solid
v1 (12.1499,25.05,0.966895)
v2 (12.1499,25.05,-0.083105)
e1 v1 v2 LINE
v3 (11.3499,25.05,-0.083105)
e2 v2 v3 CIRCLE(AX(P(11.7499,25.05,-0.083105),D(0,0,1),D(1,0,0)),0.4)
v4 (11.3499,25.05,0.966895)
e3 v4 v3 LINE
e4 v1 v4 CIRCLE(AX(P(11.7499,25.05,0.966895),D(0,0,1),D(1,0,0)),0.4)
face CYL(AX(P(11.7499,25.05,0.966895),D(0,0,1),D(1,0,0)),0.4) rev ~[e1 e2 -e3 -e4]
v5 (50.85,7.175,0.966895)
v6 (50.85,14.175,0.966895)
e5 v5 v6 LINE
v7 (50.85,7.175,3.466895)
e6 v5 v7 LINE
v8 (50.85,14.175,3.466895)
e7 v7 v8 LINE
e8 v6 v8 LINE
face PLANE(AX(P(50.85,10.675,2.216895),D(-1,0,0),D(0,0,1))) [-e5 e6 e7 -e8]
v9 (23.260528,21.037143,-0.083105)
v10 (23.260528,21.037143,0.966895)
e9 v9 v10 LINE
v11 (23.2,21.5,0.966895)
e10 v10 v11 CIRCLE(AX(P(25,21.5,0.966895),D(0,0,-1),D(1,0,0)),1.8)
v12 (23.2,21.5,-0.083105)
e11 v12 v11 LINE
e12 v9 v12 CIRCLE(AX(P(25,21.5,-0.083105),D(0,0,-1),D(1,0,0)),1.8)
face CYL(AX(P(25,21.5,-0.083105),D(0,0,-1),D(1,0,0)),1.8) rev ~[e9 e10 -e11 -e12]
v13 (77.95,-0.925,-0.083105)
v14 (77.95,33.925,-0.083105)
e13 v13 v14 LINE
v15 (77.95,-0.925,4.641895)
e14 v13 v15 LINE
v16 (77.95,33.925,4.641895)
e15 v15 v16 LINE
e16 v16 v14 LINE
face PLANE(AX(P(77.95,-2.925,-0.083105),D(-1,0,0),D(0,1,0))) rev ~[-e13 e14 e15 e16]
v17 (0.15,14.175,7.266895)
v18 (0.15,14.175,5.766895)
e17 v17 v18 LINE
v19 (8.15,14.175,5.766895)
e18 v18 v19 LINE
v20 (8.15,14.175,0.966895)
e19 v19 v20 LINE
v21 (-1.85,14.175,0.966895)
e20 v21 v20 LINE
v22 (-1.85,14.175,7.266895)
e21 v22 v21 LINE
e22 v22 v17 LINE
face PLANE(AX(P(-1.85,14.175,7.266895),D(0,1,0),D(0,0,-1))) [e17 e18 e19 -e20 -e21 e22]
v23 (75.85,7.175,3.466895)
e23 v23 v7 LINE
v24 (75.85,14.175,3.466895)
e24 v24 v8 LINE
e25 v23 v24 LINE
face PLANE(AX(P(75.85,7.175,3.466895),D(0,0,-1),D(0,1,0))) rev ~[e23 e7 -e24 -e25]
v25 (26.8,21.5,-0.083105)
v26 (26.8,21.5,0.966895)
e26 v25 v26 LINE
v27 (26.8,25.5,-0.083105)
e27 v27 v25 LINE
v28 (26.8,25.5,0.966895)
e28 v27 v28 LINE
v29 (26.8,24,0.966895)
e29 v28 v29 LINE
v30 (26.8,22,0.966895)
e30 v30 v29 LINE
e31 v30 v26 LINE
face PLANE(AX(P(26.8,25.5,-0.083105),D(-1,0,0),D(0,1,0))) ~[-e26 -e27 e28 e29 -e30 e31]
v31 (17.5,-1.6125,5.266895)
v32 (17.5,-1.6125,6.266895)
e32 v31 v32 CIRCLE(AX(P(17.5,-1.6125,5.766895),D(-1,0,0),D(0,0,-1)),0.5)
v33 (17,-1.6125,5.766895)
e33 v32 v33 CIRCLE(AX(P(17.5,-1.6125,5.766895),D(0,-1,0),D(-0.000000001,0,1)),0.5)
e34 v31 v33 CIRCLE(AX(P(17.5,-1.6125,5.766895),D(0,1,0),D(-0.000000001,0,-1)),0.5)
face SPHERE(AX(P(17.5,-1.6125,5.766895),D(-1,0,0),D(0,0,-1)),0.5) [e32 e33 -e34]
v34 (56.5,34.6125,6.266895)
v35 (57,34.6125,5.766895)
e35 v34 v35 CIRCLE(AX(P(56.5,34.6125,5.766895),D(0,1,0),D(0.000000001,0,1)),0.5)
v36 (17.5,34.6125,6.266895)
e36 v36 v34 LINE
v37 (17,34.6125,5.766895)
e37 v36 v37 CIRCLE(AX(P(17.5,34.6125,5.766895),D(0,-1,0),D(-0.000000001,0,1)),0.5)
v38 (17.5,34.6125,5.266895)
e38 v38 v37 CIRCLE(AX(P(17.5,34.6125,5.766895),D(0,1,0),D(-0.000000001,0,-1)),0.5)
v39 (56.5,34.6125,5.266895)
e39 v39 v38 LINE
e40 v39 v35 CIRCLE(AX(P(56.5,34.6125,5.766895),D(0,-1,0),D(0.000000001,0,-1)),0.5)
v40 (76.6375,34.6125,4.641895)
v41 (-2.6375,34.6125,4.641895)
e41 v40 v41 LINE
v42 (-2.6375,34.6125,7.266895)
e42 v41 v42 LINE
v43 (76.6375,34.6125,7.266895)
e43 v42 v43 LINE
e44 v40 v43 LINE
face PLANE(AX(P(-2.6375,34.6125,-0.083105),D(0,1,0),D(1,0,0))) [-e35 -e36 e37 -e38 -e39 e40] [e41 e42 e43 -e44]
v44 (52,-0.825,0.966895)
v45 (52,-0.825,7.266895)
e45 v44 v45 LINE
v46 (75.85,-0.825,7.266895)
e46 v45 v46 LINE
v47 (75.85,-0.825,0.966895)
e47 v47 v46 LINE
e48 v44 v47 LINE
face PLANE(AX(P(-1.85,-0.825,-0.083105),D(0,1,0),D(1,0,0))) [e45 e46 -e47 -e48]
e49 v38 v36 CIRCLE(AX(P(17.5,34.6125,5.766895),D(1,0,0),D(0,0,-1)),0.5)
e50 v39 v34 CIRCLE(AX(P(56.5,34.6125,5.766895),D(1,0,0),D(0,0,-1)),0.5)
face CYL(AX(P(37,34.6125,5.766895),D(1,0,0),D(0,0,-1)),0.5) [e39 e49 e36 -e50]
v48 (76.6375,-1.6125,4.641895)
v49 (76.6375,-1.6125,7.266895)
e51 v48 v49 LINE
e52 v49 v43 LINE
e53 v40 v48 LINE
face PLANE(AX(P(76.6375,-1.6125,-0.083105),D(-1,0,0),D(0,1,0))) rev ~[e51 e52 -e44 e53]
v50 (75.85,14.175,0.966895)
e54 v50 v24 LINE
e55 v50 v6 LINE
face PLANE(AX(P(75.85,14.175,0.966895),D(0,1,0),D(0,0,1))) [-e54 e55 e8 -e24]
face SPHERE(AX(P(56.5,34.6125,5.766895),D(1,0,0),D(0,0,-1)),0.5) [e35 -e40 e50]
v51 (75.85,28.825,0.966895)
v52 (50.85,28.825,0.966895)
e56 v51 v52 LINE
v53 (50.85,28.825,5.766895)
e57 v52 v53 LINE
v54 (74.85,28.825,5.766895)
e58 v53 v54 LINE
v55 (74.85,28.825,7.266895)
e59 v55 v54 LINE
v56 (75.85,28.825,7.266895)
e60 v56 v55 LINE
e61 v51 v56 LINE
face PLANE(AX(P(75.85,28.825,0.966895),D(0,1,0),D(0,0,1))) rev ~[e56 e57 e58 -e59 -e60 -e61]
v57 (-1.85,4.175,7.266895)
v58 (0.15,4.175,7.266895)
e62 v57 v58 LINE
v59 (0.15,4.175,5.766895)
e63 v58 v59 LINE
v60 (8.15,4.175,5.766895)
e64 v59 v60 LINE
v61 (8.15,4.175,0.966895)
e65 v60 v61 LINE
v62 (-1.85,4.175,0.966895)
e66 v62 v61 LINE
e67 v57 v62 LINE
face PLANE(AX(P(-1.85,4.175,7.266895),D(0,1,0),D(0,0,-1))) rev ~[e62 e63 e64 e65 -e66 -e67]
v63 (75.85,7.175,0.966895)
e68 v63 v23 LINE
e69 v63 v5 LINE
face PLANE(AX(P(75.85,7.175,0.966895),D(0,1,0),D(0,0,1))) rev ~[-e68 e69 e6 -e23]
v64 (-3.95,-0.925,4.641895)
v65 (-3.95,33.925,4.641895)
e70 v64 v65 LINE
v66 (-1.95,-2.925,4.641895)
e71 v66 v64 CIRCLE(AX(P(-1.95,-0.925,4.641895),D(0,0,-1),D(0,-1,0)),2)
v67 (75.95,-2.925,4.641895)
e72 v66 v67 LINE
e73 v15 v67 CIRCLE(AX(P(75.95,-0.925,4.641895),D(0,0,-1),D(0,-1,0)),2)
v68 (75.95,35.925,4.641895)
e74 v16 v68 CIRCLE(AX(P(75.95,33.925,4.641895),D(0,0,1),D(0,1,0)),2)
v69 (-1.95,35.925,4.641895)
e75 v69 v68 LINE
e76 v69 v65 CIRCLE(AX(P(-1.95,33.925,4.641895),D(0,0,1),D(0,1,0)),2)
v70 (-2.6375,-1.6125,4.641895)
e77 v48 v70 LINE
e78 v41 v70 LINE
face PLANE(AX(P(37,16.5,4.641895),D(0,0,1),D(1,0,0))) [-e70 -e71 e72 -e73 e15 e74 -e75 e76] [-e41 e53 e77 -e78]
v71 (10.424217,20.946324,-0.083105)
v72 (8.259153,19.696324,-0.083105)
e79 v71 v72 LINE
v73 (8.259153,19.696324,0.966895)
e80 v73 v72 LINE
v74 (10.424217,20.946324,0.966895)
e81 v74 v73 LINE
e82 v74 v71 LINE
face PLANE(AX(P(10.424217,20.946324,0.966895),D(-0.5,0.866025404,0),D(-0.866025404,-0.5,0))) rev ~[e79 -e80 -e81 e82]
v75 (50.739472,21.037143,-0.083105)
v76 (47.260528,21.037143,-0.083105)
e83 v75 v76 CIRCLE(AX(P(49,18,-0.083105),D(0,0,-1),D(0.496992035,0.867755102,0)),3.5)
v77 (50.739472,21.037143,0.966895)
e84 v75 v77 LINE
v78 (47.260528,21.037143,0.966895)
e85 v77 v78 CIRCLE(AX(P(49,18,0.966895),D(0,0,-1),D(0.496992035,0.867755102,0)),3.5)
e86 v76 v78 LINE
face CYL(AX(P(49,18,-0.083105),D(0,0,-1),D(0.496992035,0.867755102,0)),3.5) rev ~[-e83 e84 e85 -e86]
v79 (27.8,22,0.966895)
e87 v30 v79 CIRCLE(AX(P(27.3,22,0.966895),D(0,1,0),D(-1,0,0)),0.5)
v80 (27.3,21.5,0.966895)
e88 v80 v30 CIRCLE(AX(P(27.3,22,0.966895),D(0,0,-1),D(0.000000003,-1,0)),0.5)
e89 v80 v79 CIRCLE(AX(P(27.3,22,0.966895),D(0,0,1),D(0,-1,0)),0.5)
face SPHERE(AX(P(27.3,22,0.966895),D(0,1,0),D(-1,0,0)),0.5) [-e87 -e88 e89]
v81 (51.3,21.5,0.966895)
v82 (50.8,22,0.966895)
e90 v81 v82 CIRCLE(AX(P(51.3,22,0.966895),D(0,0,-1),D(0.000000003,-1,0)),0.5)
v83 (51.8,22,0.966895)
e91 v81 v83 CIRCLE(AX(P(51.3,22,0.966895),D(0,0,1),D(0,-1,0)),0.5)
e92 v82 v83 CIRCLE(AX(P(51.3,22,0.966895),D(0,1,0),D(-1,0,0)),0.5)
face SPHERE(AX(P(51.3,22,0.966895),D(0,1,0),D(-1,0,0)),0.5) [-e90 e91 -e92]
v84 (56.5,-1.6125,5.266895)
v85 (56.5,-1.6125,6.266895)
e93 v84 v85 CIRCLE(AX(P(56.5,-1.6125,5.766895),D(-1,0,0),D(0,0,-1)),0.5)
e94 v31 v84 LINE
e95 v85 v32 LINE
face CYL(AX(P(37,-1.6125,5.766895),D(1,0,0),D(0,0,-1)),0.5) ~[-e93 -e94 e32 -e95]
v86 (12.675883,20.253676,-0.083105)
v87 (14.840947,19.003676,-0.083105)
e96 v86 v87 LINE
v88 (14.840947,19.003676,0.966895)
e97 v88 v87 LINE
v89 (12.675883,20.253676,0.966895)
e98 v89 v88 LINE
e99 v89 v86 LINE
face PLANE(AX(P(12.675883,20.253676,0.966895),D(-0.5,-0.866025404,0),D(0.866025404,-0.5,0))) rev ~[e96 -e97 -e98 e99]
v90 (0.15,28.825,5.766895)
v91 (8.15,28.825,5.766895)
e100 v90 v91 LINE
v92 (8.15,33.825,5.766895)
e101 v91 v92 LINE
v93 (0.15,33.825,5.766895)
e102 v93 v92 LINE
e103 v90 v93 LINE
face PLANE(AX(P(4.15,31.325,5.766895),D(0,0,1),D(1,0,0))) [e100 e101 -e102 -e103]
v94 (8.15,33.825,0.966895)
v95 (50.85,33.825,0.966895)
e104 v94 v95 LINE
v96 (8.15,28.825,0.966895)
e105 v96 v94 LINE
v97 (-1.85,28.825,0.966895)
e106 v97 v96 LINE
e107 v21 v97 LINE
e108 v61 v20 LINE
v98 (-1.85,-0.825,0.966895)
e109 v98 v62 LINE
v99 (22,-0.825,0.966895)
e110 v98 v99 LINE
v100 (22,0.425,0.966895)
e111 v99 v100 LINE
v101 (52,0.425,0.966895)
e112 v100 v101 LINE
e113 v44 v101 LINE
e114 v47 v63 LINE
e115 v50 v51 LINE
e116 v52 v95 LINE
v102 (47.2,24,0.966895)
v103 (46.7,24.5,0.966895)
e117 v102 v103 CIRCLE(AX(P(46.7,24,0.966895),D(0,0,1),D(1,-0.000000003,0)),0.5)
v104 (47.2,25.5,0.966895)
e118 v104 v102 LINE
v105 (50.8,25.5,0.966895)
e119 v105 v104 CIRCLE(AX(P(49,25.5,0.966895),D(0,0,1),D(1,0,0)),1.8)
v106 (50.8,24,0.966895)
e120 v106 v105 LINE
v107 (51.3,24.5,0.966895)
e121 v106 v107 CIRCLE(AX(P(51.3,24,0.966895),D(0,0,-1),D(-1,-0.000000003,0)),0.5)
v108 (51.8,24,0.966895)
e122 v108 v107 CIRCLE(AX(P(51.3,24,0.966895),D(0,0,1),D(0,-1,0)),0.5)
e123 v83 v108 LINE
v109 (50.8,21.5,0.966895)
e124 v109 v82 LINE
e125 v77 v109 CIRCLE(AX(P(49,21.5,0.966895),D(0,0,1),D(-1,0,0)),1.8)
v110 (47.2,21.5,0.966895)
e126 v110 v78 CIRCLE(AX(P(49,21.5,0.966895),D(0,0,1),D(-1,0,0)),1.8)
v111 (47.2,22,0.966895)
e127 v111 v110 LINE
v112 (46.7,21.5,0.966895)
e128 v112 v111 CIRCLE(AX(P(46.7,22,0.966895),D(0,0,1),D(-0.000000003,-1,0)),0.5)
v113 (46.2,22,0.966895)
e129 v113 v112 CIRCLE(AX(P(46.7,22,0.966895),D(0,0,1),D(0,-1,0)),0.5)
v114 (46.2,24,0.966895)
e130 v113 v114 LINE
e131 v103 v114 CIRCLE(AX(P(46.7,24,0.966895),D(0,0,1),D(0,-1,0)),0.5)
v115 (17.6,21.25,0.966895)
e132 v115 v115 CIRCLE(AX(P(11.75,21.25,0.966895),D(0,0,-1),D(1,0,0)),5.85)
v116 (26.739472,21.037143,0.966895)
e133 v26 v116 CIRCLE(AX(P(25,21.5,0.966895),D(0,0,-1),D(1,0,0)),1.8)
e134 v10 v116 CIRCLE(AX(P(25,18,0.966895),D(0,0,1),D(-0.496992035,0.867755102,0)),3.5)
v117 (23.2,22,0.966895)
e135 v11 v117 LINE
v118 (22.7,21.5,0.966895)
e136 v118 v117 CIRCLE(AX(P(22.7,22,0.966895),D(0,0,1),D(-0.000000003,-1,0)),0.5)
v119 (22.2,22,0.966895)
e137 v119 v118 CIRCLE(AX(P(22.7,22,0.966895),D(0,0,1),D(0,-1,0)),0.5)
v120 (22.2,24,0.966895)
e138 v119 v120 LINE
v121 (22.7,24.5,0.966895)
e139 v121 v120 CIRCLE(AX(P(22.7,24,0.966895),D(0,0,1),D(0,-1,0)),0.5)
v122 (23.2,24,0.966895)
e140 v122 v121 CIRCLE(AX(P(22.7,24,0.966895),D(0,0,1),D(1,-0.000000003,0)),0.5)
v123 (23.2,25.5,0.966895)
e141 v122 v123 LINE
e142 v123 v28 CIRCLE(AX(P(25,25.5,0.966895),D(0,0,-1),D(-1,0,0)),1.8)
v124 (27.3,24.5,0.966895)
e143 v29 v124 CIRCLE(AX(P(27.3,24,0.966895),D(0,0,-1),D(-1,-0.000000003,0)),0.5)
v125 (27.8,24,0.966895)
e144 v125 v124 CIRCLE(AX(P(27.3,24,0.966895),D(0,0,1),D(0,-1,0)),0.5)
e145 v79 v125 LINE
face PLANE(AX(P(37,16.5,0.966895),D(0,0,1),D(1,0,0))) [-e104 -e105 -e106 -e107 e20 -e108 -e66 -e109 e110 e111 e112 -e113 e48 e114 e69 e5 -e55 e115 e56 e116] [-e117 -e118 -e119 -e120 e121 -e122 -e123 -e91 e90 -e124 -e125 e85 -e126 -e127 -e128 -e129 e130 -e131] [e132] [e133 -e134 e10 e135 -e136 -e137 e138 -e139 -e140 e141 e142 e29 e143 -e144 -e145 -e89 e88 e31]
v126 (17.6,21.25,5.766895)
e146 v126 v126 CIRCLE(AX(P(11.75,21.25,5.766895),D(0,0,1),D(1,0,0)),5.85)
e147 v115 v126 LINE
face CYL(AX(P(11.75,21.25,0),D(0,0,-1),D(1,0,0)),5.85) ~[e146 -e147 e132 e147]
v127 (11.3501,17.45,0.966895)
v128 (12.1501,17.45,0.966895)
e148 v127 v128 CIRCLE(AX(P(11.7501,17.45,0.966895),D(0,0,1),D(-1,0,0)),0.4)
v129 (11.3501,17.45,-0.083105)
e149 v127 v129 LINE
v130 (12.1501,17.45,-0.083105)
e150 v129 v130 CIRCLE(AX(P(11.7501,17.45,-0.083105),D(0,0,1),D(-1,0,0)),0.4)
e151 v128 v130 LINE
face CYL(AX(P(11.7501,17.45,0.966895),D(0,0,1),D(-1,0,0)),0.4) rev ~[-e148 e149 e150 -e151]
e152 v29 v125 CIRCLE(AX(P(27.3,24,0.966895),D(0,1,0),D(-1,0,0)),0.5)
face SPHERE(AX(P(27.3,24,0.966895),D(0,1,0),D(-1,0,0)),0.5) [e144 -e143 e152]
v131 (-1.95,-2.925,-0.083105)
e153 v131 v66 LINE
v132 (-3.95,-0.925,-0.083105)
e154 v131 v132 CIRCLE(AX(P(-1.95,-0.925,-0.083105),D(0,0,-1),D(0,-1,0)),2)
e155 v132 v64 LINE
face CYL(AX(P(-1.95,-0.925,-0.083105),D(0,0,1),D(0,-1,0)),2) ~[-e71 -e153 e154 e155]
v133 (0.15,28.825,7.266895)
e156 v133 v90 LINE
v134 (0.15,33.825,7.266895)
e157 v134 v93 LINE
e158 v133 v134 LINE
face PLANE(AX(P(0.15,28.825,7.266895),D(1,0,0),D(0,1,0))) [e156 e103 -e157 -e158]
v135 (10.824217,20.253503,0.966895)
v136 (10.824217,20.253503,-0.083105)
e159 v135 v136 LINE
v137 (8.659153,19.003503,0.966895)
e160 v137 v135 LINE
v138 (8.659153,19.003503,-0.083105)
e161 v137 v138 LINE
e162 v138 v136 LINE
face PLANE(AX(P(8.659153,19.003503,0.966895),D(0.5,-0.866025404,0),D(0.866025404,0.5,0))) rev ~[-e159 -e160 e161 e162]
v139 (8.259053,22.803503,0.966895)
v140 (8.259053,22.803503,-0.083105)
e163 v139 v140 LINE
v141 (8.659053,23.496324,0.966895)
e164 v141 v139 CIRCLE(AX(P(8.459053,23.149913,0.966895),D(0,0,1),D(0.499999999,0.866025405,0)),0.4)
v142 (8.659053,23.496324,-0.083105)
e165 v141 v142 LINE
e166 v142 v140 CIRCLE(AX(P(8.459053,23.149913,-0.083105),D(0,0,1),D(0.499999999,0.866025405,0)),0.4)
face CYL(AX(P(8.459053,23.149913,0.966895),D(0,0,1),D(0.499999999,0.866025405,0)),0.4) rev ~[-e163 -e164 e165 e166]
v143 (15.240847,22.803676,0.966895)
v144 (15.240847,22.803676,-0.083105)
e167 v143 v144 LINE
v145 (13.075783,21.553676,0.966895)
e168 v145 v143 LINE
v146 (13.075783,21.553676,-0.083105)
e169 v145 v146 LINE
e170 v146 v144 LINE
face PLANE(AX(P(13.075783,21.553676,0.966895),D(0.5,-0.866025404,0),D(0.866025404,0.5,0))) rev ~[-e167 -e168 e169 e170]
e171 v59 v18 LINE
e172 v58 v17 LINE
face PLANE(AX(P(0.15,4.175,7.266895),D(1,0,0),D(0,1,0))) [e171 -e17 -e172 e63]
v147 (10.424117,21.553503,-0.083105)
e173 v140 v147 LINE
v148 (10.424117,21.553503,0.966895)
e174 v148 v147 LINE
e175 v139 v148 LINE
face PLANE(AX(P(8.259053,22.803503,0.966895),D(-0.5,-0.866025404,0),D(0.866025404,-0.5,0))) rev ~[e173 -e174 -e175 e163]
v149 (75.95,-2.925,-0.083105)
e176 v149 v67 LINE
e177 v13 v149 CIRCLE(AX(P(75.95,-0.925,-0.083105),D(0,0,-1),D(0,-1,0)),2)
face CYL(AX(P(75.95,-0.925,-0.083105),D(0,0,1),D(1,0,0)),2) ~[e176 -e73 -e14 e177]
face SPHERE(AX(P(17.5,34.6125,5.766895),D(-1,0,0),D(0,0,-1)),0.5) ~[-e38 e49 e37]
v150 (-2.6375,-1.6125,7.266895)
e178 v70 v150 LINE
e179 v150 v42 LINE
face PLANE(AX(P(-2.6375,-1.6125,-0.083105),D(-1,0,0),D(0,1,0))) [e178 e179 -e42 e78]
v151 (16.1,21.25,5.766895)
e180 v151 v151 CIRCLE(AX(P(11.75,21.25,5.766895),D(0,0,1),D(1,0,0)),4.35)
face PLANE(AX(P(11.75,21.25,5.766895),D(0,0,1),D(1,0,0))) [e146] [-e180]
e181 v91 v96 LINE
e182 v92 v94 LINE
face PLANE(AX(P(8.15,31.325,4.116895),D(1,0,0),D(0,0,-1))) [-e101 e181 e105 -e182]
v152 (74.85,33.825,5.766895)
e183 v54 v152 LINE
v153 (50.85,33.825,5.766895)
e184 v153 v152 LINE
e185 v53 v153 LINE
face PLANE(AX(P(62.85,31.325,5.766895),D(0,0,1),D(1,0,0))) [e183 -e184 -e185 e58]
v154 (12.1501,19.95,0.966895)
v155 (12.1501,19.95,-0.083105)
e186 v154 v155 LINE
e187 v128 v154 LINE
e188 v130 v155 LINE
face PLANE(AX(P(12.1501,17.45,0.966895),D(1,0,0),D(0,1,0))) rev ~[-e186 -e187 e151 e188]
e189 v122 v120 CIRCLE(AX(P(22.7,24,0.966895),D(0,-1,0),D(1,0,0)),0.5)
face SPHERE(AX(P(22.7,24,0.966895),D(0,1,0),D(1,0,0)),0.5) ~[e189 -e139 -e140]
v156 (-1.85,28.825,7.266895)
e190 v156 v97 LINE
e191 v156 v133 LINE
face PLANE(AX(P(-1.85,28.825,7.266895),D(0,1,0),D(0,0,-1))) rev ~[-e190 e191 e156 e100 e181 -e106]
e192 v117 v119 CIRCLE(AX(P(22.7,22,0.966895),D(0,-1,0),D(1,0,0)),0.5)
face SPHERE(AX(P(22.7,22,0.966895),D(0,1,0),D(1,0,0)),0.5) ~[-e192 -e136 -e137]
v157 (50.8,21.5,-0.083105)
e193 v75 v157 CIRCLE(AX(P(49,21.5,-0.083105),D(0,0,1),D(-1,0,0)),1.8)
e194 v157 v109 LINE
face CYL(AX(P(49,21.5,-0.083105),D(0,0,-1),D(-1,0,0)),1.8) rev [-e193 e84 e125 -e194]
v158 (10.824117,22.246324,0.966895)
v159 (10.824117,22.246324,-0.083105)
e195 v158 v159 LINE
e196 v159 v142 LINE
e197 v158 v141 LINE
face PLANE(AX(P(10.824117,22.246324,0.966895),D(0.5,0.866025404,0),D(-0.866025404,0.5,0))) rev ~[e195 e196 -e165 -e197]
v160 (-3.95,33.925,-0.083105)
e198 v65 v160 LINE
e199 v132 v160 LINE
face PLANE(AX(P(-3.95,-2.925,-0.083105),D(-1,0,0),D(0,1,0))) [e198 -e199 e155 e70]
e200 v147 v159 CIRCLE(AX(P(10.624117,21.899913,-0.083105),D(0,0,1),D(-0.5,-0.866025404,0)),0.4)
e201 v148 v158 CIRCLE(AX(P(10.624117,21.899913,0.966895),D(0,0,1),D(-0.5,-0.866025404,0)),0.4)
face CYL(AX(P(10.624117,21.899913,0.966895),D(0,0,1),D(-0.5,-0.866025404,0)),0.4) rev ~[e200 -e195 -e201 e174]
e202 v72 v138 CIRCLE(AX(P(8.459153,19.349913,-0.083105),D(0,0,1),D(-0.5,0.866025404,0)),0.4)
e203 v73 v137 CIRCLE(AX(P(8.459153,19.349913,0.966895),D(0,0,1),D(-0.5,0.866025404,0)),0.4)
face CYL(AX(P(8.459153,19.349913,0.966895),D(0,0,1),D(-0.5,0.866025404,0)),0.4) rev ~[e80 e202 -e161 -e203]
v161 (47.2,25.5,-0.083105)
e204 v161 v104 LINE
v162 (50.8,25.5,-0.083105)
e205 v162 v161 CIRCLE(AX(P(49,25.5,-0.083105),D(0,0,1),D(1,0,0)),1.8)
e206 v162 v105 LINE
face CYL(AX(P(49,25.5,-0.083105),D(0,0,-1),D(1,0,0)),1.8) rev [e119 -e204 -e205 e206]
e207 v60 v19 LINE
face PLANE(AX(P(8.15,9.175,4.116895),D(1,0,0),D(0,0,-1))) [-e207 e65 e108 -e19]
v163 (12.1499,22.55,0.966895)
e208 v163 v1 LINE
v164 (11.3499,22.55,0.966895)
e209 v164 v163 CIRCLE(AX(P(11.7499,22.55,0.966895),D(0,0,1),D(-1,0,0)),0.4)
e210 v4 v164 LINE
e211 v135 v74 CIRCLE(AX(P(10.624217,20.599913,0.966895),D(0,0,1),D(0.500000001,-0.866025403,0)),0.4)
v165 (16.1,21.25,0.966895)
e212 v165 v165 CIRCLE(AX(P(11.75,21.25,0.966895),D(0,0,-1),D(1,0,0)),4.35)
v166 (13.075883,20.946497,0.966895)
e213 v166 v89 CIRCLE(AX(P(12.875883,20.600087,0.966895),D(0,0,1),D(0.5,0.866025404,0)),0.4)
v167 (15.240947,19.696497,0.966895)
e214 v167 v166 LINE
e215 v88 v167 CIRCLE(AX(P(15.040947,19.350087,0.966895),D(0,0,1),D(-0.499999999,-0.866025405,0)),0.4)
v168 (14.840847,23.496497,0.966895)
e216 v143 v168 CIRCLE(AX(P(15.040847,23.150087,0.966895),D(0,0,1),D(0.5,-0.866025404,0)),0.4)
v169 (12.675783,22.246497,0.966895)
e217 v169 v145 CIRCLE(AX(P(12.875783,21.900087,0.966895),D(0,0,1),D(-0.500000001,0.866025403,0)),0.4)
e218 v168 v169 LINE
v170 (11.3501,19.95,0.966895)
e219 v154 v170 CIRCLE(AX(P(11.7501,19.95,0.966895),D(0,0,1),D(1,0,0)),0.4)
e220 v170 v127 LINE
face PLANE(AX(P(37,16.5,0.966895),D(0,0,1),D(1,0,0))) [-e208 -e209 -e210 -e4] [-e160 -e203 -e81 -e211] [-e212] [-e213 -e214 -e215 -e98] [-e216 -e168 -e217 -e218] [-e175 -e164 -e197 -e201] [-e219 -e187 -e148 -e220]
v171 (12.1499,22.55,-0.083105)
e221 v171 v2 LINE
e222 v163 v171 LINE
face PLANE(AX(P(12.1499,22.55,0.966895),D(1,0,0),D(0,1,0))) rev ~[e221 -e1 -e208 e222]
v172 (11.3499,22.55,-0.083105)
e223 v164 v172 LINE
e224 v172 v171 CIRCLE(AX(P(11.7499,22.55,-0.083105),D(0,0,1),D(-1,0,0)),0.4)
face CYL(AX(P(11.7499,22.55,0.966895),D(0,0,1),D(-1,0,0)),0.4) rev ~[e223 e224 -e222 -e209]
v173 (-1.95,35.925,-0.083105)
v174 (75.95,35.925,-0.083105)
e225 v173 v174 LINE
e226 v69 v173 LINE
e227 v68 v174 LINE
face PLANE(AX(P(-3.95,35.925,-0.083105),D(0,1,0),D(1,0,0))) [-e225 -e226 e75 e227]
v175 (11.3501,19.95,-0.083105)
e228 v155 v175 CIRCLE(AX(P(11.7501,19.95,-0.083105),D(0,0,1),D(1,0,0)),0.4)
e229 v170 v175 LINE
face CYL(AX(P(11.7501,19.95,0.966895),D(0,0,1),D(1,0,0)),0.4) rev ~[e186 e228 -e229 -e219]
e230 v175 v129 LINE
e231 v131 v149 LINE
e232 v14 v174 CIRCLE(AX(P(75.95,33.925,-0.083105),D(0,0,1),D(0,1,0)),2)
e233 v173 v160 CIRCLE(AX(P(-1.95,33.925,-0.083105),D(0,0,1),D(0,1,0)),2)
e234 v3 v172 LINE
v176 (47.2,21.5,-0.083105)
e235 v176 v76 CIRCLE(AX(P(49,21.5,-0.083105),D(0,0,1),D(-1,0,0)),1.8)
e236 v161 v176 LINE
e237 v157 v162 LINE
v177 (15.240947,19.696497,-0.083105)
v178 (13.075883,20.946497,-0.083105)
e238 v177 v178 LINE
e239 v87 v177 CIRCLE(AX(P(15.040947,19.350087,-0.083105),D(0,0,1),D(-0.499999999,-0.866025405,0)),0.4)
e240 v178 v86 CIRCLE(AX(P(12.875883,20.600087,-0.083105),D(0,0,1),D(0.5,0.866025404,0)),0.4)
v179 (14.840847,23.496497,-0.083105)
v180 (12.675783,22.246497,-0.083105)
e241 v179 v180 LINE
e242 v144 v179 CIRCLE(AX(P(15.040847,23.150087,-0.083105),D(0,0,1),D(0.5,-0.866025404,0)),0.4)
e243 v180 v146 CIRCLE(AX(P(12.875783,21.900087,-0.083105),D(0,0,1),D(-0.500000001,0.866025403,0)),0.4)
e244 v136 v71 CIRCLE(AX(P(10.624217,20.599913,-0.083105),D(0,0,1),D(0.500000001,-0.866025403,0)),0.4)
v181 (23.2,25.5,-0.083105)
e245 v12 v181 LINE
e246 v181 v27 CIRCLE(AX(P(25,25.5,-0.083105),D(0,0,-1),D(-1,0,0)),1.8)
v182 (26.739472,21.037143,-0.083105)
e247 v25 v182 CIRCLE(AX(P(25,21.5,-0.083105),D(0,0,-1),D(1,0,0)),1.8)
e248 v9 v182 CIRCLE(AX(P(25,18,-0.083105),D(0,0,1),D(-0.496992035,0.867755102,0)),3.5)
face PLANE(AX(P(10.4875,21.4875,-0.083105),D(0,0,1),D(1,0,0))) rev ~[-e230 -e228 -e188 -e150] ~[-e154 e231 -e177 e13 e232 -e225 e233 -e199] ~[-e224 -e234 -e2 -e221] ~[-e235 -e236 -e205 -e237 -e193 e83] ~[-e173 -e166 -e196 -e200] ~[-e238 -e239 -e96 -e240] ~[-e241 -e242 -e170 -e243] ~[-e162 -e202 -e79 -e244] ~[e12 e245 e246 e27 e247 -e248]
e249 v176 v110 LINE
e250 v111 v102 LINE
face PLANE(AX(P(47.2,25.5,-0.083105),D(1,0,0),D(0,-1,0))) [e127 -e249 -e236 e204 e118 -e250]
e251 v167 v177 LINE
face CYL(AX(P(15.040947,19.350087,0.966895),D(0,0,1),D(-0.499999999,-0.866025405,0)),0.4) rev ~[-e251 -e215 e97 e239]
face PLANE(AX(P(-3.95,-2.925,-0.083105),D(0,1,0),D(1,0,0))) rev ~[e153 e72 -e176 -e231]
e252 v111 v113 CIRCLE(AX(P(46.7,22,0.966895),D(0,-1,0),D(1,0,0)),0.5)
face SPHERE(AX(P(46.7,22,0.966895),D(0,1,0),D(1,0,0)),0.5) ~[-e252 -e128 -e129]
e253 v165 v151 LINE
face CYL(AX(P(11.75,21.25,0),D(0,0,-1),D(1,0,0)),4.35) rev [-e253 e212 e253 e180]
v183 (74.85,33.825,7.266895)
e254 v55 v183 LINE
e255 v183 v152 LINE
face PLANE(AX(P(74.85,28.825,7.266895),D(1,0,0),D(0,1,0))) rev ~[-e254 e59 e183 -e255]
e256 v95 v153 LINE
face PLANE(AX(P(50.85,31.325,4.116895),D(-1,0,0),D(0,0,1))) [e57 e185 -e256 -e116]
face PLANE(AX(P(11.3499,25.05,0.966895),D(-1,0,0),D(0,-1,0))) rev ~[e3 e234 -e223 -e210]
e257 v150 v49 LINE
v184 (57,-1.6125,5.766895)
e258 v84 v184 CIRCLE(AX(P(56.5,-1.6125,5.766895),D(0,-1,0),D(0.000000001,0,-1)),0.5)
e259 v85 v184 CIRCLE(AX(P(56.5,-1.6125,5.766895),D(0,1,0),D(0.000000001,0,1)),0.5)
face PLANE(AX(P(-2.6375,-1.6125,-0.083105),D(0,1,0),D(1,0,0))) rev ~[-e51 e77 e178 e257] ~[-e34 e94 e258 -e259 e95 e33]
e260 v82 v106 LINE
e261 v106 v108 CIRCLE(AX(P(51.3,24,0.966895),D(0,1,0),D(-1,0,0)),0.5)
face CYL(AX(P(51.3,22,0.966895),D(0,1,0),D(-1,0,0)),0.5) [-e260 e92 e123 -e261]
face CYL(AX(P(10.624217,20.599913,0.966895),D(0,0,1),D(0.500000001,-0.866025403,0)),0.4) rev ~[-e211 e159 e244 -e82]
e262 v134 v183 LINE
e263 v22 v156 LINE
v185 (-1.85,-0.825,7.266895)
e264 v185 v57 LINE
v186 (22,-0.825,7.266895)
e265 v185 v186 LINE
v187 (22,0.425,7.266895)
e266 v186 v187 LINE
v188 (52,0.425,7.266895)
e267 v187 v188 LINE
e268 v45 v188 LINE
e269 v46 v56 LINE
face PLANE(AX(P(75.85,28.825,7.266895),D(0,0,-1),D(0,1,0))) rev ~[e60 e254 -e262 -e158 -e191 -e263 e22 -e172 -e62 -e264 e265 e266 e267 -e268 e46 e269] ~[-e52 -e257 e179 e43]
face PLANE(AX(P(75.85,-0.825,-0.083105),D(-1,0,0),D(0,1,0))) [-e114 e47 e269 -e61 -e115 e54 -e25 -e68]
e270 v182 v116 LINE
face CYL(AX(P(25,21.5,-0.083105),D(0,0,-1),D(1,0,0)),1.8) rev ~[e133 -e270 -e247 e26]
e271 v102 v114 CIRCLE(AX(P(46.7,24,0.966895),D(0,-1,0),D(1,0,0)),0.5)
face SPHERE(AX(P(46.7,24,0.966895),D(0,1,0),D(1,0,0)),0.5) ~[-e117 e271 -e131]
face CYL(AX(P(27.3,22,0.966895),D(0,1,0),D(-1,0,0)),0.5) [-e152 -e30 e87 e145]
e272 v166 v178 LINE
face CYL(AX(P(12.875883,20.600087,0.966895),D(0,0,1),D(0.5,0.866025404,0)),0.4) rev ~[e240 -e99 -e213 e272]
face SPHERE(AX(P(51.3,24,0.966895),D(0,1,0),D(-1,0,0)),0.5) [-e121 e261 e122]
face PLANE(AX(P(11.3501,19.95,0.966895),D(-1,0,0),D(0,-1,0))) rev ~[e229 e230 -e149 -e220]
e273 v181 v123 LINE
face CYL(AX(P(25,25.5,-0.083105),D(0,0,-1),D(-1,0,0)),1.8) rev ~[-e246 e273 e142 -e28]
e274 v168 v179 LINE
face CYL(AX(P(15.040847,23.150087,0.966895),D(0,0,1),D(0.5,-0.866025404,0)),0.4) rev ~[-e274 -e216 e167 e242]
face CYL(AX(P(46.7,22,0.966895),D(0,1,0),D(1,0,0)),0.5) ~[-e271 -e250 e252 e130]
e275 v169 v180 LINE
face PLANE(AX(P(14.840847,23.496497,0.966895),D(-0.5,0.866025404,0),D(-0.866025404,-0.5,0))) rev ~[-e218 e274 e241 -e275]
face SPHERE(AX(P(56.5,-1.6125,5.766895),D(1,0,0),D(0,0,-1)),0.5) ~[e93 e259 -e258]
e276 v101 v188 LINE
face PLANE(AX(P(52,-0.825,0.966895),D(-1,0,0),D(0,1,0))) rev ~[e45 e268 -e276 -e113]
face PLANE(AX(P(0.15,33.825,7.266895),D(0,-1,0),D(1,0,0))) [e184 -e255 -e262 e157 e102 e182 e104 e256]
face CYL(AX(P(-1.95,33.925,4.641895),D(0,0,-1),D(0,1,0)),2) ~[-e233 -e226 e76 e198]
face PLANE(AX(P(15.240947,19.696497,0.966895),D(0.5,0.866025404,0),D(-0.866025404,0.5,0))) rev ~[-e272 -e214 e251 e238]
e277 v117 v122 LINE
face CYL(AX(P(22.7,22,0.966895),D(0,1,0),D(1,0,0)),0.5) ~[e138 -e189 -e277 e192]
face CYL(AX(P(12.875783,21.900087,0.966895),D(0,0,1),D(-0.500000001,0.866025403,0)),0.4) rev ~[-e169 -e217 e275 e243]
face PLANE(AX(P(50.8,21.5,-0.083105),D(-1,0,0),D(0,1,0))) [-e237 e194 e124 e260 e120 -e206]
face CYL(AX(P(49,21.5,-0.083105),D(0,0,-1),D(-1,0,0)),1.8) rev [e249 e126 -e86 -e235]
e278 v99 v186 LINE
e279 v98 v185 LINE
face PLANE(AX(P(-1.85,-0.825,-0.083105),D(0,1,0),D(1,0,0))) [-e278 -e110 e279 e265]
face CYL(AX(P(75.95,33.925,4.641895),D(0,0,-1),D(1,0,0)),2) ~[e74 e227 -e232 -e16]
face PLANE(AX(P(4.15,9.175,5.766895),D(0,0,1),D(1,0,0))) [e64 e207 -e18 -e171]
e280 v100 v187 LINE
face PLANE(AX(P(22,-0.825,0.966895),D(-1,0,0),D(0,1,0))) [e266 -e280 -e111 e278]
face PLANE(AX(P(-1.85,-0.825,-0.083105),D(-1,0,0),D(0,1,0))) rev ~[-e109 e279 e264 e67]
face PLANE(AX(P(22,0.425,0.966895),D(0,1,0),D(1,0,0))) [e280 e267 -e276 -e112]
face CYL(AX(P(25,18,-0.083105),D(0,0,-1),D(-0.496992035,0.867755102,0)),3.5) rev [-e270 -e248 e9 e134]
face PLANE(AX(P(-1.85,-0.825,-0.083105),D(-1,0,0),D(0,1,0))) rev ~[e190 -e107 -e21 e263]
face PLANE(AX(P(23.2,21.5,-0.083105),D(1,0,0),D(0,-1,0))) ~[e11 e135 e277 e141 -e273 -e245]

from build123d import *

# Parameters (mm, degrees)
SKIZZE1_W                       = 78
SKIZZE1_H                       = 37
AUFSATZ_LINEAR_AUSTRAGEN1_DEPTH = 4.5
SKIZZE1_3_W                     = 75.5
SKIZZE1_3_H                     = 34.5
AUFSATZ_LINEAR_AUSTRAGEN2_DEPTH = 7
SKIZZE1_4_W                     = 74
SKIZZE1_4_H                     = 33
SCHNITT_LINEAR_AUSTRAGEN1_DEPTH = 7
SKIZZE1_5_W                     = 78
SKIZZE1_5_H                     = 37
SKIZZE1_5_W_2                   = 75.5
SKIZZE1_5_H_2                   = 34.5
SKIZZE1_5_W_3                   = 74
SKIZZE1_5_H_3                   = 33
SKIZZE1_5_R                     = 5.85
SKIZZE1_5_R_2                   = 4.35
AUFSATZ_LINEAR_AUSTRAGEN3_DEPTH = 1
SKIZZE1_6_R                     = 5.85
SKIZZE1_6_R_2                   = 4.35
AUFSATZ_LINEAR_AUSTRAGEN4_DEPTH = 1
SKALIEREN1_SCALE                = 1.05
SKIZZE4_R                       = 3.5
SCHNITT_LINEAR_AUSTRAGEN2_DEPTH = 1.05
SKIZZE5_W                       = 6.3
SKIZZE5_H                       = 10
SKIZZE5_H_2                     = 5
AUFSATZ_LINEAR_AUSTRAGEN5_DEPTH = 10
SKIZZE6_W                       = 2.5
SKIZZE6_H                       = 7
SKIZZE6_W_2                     = 6.3
SKIZZE6_H_2                     = 5
AUFSATZ_LINEAR_AUSTRAGEN6_DEPTH = 25
SKIZZE10_W                      = 8
SKIZZE10_H                      = 5
SKIZZE10_H_2                    = 10
SKIZZE10_W_2                    = 24
SCHNITT_LINEAR_AUSTRAGEN4_DEPTH = 1.5
SKIZZE1_7_R                     = 5.85
SKIZZE1_7_R_2                   = 4.35
AUFSATZ_LINEAR_AUSTRAGEN8_DEPTH = 5.766894584
SCHNITT_LINEAR_AUSTRAGEN3_DEPTH = 1.05
ROTATION1_ANGLE                 = 180
SPIEGELN3_COPY_1_ANGLE          = 180
SPIEGELN3_COPY_2_ANGLE          = 180
SPIEGELN4_COPY_1_ANGLE          = 180
SPIEGELN4_COPY_2_ANGLE          = 180
SPIEGELN4_COPY_3_ANGLE          = 180
SPIEGELN4_COPY_4_ANGLE          = 180
SPIEGELN4_COPY_5_ANGLE          = 180
VERRUNDUNG1_R                   = 2
SKIZZE13_W                      = 30
SKIZZE13_H                      = 1.25
AUFSATZ_LINEAR_AUSTRAGEN9_DEPTH = 6.3


with BuildPart() as part:
    # Skizze1 → Aufsatz-Linear austragen1 (new body)
    with BuildSketch(Plane.XY):
        with Locations((37, 16.5)):
            Rectangle(SKIZZE1_W, SKIZZE1_H)
    extrude(amount=AUFSATZ_LINEAR_AUSTRAGEN1_DEPTH)

    # Skizze1<3> → Aufsatz-Linear austragen2 (add)
    with BuildSketch(Plane.XY):
        with Locations((37, 16.5)):
            Rectangle(SKIZZE1_3_W, SKIZZE1_3_H)
    extrude(amount=AUFSATZ_LINEAR_AUSTRAGEN2_DEPTH)

    # Skizze1<4> → Schnitt-Linear austragen1 (cut)
    with BuildSketch(Plane.XY):
        with Locations((37, 16.5)):
            Rectangle(SKIZZE1_4_W, SKIZZE1_4_H)
    extrude(amount=SCHNITT_LINEAR_AUSTRAGEN1_DEPTH, mode=Mode.SUBTRACT)

    # Skizze1<5> → Aufsatz-Linear austragen3 (add)
    # profile 1 of 3: a face of its own
    with BuildSketch(Plane.XY):
        with Locations((37, 16.5)):
            Rectangle(SKIZZE1_5_W, SKIZZE1_5_H)
        with Locations((37, 16.5)):
            Rectangle(SKIZZE1_5_W_2, SKIZZE1_5_H_2, mode=Mode.SUBTRACT)
    # profile 2 of 3: a face of its own
    with BuildSketch(Plane.XY):
        with Locations((37, 16.5)):
            Rectangle(SKIZZE1_5_W_3, SKIZZE1_5_H_3)
        with Locations((11.75, 21.25)):
            Circle(SKIZZE1_5_R, mode=Mode.SUBTRACT)
    # profile 3 of 3: a face of its own
    with BuildSketch(Plane.XY):
        with Locations((11.75, 21.25)):
            Circle(SKIZZE1_5_R_2)
    extrude(amount=AUFSATZ_LINEAR_AUSTRAGEN3_DEPTH)


with BuildPart() as aufsatz_linear_austragen3_kept_piece:
    # of the separate pieces the step leaves, the one the design keeps (aufsatz_linear_austragen3_pieces_kept)
    add(part.part.solids().sort_by_distance((-2, 35, 0))[0])

    # Skizze1<6> → Aufsatz-Linear austragen4 (add)
    # profile 1 of 2: a face of its own
    with BuildSketch(Plane.XY):
        with Locations((11.75, 21.25)):
            Circle(SKIZZE1_6_R)
        with Locations((11.75, 21.25)):
            Circle(SKIZZE1_6_R_2, mode=Mode.SUBTRACT)
    # profile 2 of 2: a face of its own
    with BuildSketch(Plane.XY):
        with Locations((11.75, 21.25)):
            Circle(SKIZZE1_6_R_2)
    extrude(amount=AUFSATZ_LINEAR_AUSTRAGEN4_DEPTH)


with BuildPart() as aufsatz_linear_austragen3_kept_piece_1:
    # Skalieren1: scaled about (37, 16.5, 1.662108317)
    add(aufsatz_linear_austragen3_kept_piece.part.scale(SKALIEREN1_SCALE).moved(Location((-1.85, -0.825, -0.083105416))))

    # Skizze4 → Schnitt-Linear austragen2 (cut)
    with BuildSketch(Plane(origin=(0, 0, -0.083105416), x_dir=(-1, 0, 0), z_dir=(0, 0, -1))):
        with Locations((-49, 18)):
            Circle(SKIZZE4_R)
        with BuildLine():
            Line((-50.8, 21.5), (-50.8, 25.5))
            ThreePointArc((-50.8, 25.5), (-49, 27.3), (-47.2, 25.5))
            Line((-47.2, 25.5), (-47.2, 21.5))
            ThreePointArc((-47.2, 21.5), (-49, 19.7), (-50.8, 21.5))
        make_face()
    schnitt_linear_austragen2 = extrude(amount=-SCHNITT_LINEAR_AUSTRAGEN2_DEPTH, mode=Mode.SUBTRACT)

    # Spiegeln1: Schnitt-Linear austragen2 across plane
    add(schnitt_linear_austragen2.mirror(Plane(origin=(37, 0, 0), x_dir=(0, 0, 1), z_dir=(1, 0, 0))), mode=Mode.SUBTRACT)

    # Skizze5 → Aufsatz-Linear austragen5 (add)
    with BuildSketch(Plane(origin=(-1.85, 0, 0), x_dir=(0, 0, -1), z_dir=(1, 0, 0))):
        with Locations((-4.116894584, 9.175)):
            Rectangle(SKIZZE5_W, SKIZZE5_H)
        with Locations((-4.116894584, 31.325)):
            Rectangle(SKIZZE5_W, SKIZZE5_H_2)
    extrude(amount=AUFSATZ_LINEAR_AUSTRAGEN5_DEPTH)

    # Skizze6 → Aufsatz-Linear austragen6 (add)
    with BuildSketch(Plane.ZY.offset(-75.85)):
        with Locations((2.216894584, 10.675)):
            Rectangle(SKIZZE6_W, SKIZZE6_H)
        with Locations((4.116894584, 31.325)):
            Rectangle(SKIZZE6_W_2, SKIZZE6_H_2)
    extrude(amount=AUFSATZ_LINEAR_AUSTRAGEN6_DEPTH)

    # Skizze10 → Schnitt-Linear austragen4 (cut)
    with BuildSketch(Plane.XY.offset(7.266894584)):
        with Locations((4.15, 31.325)):
            Rectangle(SKIZZE10_W, SKIZZE10_H)
        with Locations((4.15, 9.175)):
            Rectangle(SKIZZE10_W, SKIZZE10_H_2)
        with Locations((62.85, 31.325)):
            Rectangle(SKIZZE10_W_2, SKIZZE10_H)
    extrude(amount=-SCHNITT_LINEAR_AUSTRAGEN4_DEPTH, mode=Mode.SUBTRACT)

    # Skizze1<7> → Aufsatz-Linear austragen8 (add)
    with BuildSketch(Plane.XY):
        with Locations((11.75, 21.25)):
            Circle(SKIZZE1_7_R)
        with Locations((11.75, 21.25)):
            Circle(SKIZZE1_7_R_2, mode=Mode.SUBTRACT)
    extrude(amount=AUFSATZ_LINEAR_AUSTRAGEN8_DEPTH)

    # Skizze8 → Schnitt-Linear austragen3 (cut)
    with BuildSketch(Plane.XY.offset(0.966894584)):
        with BuildLine():
            Line((11.3499, 25.049999998), (11.3499, 22.549999998))
            ThreePointArc((11.3499, 22.549999998), (11.7499, 22.149999998), (12.1499, 22.549999998))
            Line((12.1499, 22.549999998), (12.1499, 25.049999998))
            ThreePointArc((12.1499, 25.049999998), (11.7499, 25.449999998), (11.3499, 25.049999998))
        make_face()
        with BuildLine():
            Line((8.259053467, 22.803503235), (10.424116977, 21.553503235))
            ThreePointArc((10.424116977, 21.553503235), (10.970527138, 21.699913396), (10.824116977, 22.246323558))
            Line((10.824116977, 22.246323558), (8.659053467, 23.496323558))
            ThreePointArc((8.659053467, 23.496323558), (8.112643306, 23.349913396), (8.259053467, 22.803503235))
        make_face()
        with BuildLine():
            Line((14.840846533, 23.496496763), (12.675783023, 22.246496763))
            ThreePointArc((12.675783023, 22.246496763), (12.529372862, 21.700086602), (13.075783023, 21.55367644))
            Line((13.075783023, 21.55367644), (15.240846533, 22.80367644))
            ThreePointArc((15.240846533, 22.80367644), (15.387256694, 23.350086602), (14.840846533, 23.496496763))
        make_face()
        with BuildLine():
            Line((15.240946533, 19.696496765), (13.075883023, 20.946496765))
            ThreePointArc((13.075883023, 20.946496765), (12.529472862, 20.800086604), (12.675883023, 20.253676442))
            Line((12.675883023, 20.253676442), (14.840946533, 19.003676442))
            ThreePointArc((14.840946533, 19.003676442), (15.387356694, 19.150086604), (15.240946533, 19.696496765))
        make_face()
        with BuildLine():
            Line((12.1501, 17.450000002), (12.1501, 19.950000002))
            ThreePointArc((12.1501, 19.950000002), (11.7501, 20.350000002), (11.3501, 19.950000002))
            Line((11.3501, 19.950000002), (11.3501, 17.450000002))
            ThreePointArc((11.3501, 17.450000002), (11.7501, 17.050000002), (12.1501, 17.450000002))
        make_face()
        with BuildLine():
            Line((8.659153467, 19.003503237), (10.824216977, 20.253503237))
            ThreePointArc((10.824216977, 20.253503237), (10.970627138, 20.799913398), (10.424216977, 20.94632356))
            Line((10.424216977, 20.94632356), (8.259153467, 19.69632356))
            ThreePointArc((8.259153467, 19.69632356), (8.112743306, 19.149913398), (8.659153467, 19.003503237))
        make_face()
    extrude(amount=-SCHNITT_LINEAR_AUSTRAGEN3_DEPTH, mode=Mode.SUBTRACT)

    # Skizze9 → Rotation1 (revolve)
    with BuildSketch(Plane.XZ.offset(1.6125)):
        with BuildLine():
            Line((17, 5.766894584), (37, 5.766894584))
            Line((37, 5.766894584), (37, 5.266894584))
            Line((37, 5.266894584), (17.5, 5.266894584))
            ThreePointArc((17.5, 5.266894584), (17.146446609, 5.413341194), (17, 5.766894584))
        make_face()
    rotation1 = revolve(axis=Axis((17, -1.6125, 5.766894584), (1, 0, 0)), revolution_arc=ROTATION1_ANGLE)

    # Spiegeln2: Rotation1 across plane
    add(rotation1.mirror(Plane(origin=(-2.6375, -1.6125, 7.266894584), x_dir=(0, 0, 1), z_dir=(0, 1, 0))))

    # Spiegeln3 copy 1 sketch → Spiegeln3 copy 1 (revolve)
    with BuildSketch(Plane(origin=(74, -1.6125, 0), x_dir=(-1, 0, 0), z_dir=(0, 1, 0))):
        with BuildLine():
            Line((17, 5.766894584), (37, 5.766894584))
            Line((37, 5.766894584), (37, 5.266894584))
            Line((37, 5.266894584), (17.5, 5.266894584))
            ThreePointArc((17.5, 5.266894584), (17.146446609, 5.413341194), (17, 5.766894584))
        make_face()
    revolve(axis=Axis((57, -1.6125, 5.766894584), (-1, 0, 0)), revolution_arc=SPIEGELN3_COPY_1_ANGLE)

    # Spiegeln3 copy 2 sketch → Spiegeln3 copy 2 (revolve)
    with BuildSketch(Plane(origin=(74, -1.6125, 0), x_dir=(-1, 0, 0), z_dir=(0, -1, 0))):
        with BuildLine():
            Line((17, -5.766894584), (37, -5.766894584))
            Line((37, -5.766894584), (37, -5.266894584))
            Line((37, -5.266894584), (17.5, -5.266894584))
            ThreePointArc((17.5, -5.266894584), (17.146446609, -5.413341194), (17, -5.766894584))
        make_face()
    revolve(axis=Axis((57, -1.6125, 5.766894584), (1, 0, 0)), revolution_arc=SPIEGELN3_COPY_2_ANGLE)

    # Spiegeln4 copy 1 sketch → Spiegeln4 copy 1 (revolve)
    with BuildSketch(Plane.XZ.offset(-34.6125)):
        with BuildLine():
            Line((17, 5.766894584), (37, 5.766894584))
            Line((37, 5.766894584), (37, 5.266894584))
            Line((37, 5.266894584), (17.5, 5.266894584))
            ThreePointArc((17.5, 5.266894584), (17.146446609, 5.413341194), (17, 5.766894584))
        make_face()
    revolve(axis=Axis((17, 34.6125, 5.766894584), (1, 0, 0)), revolution_arc=SPIEGELN4_COPY_1_ANGLE)

    # Spiegeln4 copy 2 sketch → Spiegeln4 copy 2 (revolve)
    with BuildSketch(Plane(origin=(0, 34.6125, 0), x_dir=(1, 0, 0), z_dir=(0, 1, 0))):
        with BuildLine():
            Line((17, -5.766894584), (37, -5.766894584))
            Line((37, -5.766894584), (37, -5.266894584))
            Line((37, -5.266894584), (17.5, -5.266894584))
            ThreePointArc((17.5, -5.266894584), (17.146446609, -5.413341194), (17, -5.766894584))
        make_face()
    revolve(axis=Axis((17, 34.6125, 5.766894584), (-1, 0, 0)), revolution_arc=SPIEGELN4_COPY_2_ANGLE)

    # Spiegeln4 copy 3 sketch → Spiegeln4 copy 3 (revolve)
    with BuildSketch(Plane(origin=(74, 34.6125, 0), x_dir=(-1, 0, 0), z_dir=(0, -1, 0))):
        with BuildLine():
            Line((17, -5.766894584), (37, -5.766894584))
            Line((37, -5.766894584), (37, -5.266894584))
            Line((37, -5.266894584), (17.5, -5.266894584))
            ThreePointArc((17.5, -5.266894584), (17.146446609, -5.413341194), (17, -5.766894584))
        make_face()
    revolve(axis=Axis((57, 34.6125, 5.766894584), (1, 0, 0)), revolution_arc=SPIEGELN4_COPY_3_ANGLE)

    # Spiegeln4 copy 4 sketch → Spiegeln4 copy 4 (revolve)
    with BuildSketch(Plane(origin=(74, 34.6125, 0), x_dir=(-1, 0, 0), z_dir=(0, 1, 0))):
        with BuildLine():
            Line((17, 5.766894584), (37, 5.766894584))
            Line((37, 5.766894584), (37, 5.266894584))
            Line((37, 5.266894584), (17.5, 5.266894584))
            ThreePointArc((17.5, 5.266894584), (17.146446609, 5.413341194), (17, 5.766894584))
        make_face()
    revolve(axis=Axis((57, 34.6125, 5.766894584), (-1, 0, 0)), revolution_arc=SPIEGELN4_COPY_4_ANGLE)

    # Spiegeln4 copy 5 sketch → Spiegeln4 copy 5 (revolve)
    with BuildSketch(Plane(origin=(0, 34.6125, 0), x_dir=(1, 0, 0), z_dir=(0, 1, 0))):
        with BuildLine():
            Line((17, -5.766894584), (37, -5.766894584))
            Line((37, -5.766894584), (37, -5.266894584))
            Line((37, -5.266894584), (17.5, -5.266894584))
            ThreePointArc((17.5, -5.266894584), (17.146446609, -5.413341194), (17, -5.766894584))
        make_face()
    revolve(axis=Axis((17, 34.6125, 5.766894584), (-1, 0, 0)), revolution_arc=SPIEGELN4_COPY_5_ANGLE)

    # Verrundung1
    verrundung1_edges = [aufsatz_linear_austragen3_kept_piece_1.edges().sort_by_distance(p)[0] for p in [
        (-3.95, 35.925, 2.279394584),
        (77.95, 35.925, 2.279394584),
        (77.95, -2.925, 2.279394584),
        (-3.95, -2.925, 2.279394584),
    ]]
    fillet(verrundung1_edges, radius=VERRUNDUNG1_R)

    # Skizze12 → Rotation2 (revolve)
    with BuildSketch(Plane.XY.offset(0.966894584)):
        with BuildLine():
            Line((22.7, 24.5), (22.7, 21.5))
            ThreePointArc((22.7, 21.5), (23.053553391, 21.646446609), (23.2, 22))
            Line((23.2, 22), (23.2, 24))
            ThreePointArc((23.2, 24), (23.053553391, 24.353553391), (22.7, 24.5))
        make_face()
    rotation2 = revolve(axis=Axis((22.7, 24.5, 0.966894584), (0, -1, 0)))

    # Spiegeln5: Rotation2 across plane
    add(rotation2.mirror(Plane(origin=(25, 0, 0), x_dir=(0, 0, 1), z_dir=(1, 0, 0))))

    # Spiegeln6: Rotation2 across plane
    add(rotation2.mirror(Plane(origin=(37, 0, 0), x_dir=(0, 0, 1), z_dir=(1, 0, 0))))

    # Spiegeln6 copy 1 sketch → Spiegeln6 copy 1 (revolve)
    with BuildSketch(Plane(origin=(24, 0, 0.966894584), x_dir=(1, 0, 0), z_dir=(0, 0, 1))):
        with BuildLine():
            Line((22.7, 24.5), (22.7, 21.5))
            ThreePointArc((22.7, 21.5), (23.053553391, 21.646446609), (23.2, 22))
            Line((23.2, 22), (23.2, 24))
            ThreePointArc((23.2, 24), (23.053553391, 24.353553391), (22.7, 24.5))
        make_face()
    revolve(axis=Axis((46.7, 24.5, 0.966894584), (0, -1, 0)))

    # Skizze13 → Aufsatz-Linear austragen9 (add)
    with BuildSketch(Plane.XY.offset(0.966894584)):
        with Locations((37, -0.2)):
            Rectangle(SKIZZE13_W, SKIZZE13_H)
    extrude(amount=AUFSATZ_LINEAR_AUSTRAGEN9_DEPTH)


solid = aufsatz_linear_austragen3_kept_piece_1.part
